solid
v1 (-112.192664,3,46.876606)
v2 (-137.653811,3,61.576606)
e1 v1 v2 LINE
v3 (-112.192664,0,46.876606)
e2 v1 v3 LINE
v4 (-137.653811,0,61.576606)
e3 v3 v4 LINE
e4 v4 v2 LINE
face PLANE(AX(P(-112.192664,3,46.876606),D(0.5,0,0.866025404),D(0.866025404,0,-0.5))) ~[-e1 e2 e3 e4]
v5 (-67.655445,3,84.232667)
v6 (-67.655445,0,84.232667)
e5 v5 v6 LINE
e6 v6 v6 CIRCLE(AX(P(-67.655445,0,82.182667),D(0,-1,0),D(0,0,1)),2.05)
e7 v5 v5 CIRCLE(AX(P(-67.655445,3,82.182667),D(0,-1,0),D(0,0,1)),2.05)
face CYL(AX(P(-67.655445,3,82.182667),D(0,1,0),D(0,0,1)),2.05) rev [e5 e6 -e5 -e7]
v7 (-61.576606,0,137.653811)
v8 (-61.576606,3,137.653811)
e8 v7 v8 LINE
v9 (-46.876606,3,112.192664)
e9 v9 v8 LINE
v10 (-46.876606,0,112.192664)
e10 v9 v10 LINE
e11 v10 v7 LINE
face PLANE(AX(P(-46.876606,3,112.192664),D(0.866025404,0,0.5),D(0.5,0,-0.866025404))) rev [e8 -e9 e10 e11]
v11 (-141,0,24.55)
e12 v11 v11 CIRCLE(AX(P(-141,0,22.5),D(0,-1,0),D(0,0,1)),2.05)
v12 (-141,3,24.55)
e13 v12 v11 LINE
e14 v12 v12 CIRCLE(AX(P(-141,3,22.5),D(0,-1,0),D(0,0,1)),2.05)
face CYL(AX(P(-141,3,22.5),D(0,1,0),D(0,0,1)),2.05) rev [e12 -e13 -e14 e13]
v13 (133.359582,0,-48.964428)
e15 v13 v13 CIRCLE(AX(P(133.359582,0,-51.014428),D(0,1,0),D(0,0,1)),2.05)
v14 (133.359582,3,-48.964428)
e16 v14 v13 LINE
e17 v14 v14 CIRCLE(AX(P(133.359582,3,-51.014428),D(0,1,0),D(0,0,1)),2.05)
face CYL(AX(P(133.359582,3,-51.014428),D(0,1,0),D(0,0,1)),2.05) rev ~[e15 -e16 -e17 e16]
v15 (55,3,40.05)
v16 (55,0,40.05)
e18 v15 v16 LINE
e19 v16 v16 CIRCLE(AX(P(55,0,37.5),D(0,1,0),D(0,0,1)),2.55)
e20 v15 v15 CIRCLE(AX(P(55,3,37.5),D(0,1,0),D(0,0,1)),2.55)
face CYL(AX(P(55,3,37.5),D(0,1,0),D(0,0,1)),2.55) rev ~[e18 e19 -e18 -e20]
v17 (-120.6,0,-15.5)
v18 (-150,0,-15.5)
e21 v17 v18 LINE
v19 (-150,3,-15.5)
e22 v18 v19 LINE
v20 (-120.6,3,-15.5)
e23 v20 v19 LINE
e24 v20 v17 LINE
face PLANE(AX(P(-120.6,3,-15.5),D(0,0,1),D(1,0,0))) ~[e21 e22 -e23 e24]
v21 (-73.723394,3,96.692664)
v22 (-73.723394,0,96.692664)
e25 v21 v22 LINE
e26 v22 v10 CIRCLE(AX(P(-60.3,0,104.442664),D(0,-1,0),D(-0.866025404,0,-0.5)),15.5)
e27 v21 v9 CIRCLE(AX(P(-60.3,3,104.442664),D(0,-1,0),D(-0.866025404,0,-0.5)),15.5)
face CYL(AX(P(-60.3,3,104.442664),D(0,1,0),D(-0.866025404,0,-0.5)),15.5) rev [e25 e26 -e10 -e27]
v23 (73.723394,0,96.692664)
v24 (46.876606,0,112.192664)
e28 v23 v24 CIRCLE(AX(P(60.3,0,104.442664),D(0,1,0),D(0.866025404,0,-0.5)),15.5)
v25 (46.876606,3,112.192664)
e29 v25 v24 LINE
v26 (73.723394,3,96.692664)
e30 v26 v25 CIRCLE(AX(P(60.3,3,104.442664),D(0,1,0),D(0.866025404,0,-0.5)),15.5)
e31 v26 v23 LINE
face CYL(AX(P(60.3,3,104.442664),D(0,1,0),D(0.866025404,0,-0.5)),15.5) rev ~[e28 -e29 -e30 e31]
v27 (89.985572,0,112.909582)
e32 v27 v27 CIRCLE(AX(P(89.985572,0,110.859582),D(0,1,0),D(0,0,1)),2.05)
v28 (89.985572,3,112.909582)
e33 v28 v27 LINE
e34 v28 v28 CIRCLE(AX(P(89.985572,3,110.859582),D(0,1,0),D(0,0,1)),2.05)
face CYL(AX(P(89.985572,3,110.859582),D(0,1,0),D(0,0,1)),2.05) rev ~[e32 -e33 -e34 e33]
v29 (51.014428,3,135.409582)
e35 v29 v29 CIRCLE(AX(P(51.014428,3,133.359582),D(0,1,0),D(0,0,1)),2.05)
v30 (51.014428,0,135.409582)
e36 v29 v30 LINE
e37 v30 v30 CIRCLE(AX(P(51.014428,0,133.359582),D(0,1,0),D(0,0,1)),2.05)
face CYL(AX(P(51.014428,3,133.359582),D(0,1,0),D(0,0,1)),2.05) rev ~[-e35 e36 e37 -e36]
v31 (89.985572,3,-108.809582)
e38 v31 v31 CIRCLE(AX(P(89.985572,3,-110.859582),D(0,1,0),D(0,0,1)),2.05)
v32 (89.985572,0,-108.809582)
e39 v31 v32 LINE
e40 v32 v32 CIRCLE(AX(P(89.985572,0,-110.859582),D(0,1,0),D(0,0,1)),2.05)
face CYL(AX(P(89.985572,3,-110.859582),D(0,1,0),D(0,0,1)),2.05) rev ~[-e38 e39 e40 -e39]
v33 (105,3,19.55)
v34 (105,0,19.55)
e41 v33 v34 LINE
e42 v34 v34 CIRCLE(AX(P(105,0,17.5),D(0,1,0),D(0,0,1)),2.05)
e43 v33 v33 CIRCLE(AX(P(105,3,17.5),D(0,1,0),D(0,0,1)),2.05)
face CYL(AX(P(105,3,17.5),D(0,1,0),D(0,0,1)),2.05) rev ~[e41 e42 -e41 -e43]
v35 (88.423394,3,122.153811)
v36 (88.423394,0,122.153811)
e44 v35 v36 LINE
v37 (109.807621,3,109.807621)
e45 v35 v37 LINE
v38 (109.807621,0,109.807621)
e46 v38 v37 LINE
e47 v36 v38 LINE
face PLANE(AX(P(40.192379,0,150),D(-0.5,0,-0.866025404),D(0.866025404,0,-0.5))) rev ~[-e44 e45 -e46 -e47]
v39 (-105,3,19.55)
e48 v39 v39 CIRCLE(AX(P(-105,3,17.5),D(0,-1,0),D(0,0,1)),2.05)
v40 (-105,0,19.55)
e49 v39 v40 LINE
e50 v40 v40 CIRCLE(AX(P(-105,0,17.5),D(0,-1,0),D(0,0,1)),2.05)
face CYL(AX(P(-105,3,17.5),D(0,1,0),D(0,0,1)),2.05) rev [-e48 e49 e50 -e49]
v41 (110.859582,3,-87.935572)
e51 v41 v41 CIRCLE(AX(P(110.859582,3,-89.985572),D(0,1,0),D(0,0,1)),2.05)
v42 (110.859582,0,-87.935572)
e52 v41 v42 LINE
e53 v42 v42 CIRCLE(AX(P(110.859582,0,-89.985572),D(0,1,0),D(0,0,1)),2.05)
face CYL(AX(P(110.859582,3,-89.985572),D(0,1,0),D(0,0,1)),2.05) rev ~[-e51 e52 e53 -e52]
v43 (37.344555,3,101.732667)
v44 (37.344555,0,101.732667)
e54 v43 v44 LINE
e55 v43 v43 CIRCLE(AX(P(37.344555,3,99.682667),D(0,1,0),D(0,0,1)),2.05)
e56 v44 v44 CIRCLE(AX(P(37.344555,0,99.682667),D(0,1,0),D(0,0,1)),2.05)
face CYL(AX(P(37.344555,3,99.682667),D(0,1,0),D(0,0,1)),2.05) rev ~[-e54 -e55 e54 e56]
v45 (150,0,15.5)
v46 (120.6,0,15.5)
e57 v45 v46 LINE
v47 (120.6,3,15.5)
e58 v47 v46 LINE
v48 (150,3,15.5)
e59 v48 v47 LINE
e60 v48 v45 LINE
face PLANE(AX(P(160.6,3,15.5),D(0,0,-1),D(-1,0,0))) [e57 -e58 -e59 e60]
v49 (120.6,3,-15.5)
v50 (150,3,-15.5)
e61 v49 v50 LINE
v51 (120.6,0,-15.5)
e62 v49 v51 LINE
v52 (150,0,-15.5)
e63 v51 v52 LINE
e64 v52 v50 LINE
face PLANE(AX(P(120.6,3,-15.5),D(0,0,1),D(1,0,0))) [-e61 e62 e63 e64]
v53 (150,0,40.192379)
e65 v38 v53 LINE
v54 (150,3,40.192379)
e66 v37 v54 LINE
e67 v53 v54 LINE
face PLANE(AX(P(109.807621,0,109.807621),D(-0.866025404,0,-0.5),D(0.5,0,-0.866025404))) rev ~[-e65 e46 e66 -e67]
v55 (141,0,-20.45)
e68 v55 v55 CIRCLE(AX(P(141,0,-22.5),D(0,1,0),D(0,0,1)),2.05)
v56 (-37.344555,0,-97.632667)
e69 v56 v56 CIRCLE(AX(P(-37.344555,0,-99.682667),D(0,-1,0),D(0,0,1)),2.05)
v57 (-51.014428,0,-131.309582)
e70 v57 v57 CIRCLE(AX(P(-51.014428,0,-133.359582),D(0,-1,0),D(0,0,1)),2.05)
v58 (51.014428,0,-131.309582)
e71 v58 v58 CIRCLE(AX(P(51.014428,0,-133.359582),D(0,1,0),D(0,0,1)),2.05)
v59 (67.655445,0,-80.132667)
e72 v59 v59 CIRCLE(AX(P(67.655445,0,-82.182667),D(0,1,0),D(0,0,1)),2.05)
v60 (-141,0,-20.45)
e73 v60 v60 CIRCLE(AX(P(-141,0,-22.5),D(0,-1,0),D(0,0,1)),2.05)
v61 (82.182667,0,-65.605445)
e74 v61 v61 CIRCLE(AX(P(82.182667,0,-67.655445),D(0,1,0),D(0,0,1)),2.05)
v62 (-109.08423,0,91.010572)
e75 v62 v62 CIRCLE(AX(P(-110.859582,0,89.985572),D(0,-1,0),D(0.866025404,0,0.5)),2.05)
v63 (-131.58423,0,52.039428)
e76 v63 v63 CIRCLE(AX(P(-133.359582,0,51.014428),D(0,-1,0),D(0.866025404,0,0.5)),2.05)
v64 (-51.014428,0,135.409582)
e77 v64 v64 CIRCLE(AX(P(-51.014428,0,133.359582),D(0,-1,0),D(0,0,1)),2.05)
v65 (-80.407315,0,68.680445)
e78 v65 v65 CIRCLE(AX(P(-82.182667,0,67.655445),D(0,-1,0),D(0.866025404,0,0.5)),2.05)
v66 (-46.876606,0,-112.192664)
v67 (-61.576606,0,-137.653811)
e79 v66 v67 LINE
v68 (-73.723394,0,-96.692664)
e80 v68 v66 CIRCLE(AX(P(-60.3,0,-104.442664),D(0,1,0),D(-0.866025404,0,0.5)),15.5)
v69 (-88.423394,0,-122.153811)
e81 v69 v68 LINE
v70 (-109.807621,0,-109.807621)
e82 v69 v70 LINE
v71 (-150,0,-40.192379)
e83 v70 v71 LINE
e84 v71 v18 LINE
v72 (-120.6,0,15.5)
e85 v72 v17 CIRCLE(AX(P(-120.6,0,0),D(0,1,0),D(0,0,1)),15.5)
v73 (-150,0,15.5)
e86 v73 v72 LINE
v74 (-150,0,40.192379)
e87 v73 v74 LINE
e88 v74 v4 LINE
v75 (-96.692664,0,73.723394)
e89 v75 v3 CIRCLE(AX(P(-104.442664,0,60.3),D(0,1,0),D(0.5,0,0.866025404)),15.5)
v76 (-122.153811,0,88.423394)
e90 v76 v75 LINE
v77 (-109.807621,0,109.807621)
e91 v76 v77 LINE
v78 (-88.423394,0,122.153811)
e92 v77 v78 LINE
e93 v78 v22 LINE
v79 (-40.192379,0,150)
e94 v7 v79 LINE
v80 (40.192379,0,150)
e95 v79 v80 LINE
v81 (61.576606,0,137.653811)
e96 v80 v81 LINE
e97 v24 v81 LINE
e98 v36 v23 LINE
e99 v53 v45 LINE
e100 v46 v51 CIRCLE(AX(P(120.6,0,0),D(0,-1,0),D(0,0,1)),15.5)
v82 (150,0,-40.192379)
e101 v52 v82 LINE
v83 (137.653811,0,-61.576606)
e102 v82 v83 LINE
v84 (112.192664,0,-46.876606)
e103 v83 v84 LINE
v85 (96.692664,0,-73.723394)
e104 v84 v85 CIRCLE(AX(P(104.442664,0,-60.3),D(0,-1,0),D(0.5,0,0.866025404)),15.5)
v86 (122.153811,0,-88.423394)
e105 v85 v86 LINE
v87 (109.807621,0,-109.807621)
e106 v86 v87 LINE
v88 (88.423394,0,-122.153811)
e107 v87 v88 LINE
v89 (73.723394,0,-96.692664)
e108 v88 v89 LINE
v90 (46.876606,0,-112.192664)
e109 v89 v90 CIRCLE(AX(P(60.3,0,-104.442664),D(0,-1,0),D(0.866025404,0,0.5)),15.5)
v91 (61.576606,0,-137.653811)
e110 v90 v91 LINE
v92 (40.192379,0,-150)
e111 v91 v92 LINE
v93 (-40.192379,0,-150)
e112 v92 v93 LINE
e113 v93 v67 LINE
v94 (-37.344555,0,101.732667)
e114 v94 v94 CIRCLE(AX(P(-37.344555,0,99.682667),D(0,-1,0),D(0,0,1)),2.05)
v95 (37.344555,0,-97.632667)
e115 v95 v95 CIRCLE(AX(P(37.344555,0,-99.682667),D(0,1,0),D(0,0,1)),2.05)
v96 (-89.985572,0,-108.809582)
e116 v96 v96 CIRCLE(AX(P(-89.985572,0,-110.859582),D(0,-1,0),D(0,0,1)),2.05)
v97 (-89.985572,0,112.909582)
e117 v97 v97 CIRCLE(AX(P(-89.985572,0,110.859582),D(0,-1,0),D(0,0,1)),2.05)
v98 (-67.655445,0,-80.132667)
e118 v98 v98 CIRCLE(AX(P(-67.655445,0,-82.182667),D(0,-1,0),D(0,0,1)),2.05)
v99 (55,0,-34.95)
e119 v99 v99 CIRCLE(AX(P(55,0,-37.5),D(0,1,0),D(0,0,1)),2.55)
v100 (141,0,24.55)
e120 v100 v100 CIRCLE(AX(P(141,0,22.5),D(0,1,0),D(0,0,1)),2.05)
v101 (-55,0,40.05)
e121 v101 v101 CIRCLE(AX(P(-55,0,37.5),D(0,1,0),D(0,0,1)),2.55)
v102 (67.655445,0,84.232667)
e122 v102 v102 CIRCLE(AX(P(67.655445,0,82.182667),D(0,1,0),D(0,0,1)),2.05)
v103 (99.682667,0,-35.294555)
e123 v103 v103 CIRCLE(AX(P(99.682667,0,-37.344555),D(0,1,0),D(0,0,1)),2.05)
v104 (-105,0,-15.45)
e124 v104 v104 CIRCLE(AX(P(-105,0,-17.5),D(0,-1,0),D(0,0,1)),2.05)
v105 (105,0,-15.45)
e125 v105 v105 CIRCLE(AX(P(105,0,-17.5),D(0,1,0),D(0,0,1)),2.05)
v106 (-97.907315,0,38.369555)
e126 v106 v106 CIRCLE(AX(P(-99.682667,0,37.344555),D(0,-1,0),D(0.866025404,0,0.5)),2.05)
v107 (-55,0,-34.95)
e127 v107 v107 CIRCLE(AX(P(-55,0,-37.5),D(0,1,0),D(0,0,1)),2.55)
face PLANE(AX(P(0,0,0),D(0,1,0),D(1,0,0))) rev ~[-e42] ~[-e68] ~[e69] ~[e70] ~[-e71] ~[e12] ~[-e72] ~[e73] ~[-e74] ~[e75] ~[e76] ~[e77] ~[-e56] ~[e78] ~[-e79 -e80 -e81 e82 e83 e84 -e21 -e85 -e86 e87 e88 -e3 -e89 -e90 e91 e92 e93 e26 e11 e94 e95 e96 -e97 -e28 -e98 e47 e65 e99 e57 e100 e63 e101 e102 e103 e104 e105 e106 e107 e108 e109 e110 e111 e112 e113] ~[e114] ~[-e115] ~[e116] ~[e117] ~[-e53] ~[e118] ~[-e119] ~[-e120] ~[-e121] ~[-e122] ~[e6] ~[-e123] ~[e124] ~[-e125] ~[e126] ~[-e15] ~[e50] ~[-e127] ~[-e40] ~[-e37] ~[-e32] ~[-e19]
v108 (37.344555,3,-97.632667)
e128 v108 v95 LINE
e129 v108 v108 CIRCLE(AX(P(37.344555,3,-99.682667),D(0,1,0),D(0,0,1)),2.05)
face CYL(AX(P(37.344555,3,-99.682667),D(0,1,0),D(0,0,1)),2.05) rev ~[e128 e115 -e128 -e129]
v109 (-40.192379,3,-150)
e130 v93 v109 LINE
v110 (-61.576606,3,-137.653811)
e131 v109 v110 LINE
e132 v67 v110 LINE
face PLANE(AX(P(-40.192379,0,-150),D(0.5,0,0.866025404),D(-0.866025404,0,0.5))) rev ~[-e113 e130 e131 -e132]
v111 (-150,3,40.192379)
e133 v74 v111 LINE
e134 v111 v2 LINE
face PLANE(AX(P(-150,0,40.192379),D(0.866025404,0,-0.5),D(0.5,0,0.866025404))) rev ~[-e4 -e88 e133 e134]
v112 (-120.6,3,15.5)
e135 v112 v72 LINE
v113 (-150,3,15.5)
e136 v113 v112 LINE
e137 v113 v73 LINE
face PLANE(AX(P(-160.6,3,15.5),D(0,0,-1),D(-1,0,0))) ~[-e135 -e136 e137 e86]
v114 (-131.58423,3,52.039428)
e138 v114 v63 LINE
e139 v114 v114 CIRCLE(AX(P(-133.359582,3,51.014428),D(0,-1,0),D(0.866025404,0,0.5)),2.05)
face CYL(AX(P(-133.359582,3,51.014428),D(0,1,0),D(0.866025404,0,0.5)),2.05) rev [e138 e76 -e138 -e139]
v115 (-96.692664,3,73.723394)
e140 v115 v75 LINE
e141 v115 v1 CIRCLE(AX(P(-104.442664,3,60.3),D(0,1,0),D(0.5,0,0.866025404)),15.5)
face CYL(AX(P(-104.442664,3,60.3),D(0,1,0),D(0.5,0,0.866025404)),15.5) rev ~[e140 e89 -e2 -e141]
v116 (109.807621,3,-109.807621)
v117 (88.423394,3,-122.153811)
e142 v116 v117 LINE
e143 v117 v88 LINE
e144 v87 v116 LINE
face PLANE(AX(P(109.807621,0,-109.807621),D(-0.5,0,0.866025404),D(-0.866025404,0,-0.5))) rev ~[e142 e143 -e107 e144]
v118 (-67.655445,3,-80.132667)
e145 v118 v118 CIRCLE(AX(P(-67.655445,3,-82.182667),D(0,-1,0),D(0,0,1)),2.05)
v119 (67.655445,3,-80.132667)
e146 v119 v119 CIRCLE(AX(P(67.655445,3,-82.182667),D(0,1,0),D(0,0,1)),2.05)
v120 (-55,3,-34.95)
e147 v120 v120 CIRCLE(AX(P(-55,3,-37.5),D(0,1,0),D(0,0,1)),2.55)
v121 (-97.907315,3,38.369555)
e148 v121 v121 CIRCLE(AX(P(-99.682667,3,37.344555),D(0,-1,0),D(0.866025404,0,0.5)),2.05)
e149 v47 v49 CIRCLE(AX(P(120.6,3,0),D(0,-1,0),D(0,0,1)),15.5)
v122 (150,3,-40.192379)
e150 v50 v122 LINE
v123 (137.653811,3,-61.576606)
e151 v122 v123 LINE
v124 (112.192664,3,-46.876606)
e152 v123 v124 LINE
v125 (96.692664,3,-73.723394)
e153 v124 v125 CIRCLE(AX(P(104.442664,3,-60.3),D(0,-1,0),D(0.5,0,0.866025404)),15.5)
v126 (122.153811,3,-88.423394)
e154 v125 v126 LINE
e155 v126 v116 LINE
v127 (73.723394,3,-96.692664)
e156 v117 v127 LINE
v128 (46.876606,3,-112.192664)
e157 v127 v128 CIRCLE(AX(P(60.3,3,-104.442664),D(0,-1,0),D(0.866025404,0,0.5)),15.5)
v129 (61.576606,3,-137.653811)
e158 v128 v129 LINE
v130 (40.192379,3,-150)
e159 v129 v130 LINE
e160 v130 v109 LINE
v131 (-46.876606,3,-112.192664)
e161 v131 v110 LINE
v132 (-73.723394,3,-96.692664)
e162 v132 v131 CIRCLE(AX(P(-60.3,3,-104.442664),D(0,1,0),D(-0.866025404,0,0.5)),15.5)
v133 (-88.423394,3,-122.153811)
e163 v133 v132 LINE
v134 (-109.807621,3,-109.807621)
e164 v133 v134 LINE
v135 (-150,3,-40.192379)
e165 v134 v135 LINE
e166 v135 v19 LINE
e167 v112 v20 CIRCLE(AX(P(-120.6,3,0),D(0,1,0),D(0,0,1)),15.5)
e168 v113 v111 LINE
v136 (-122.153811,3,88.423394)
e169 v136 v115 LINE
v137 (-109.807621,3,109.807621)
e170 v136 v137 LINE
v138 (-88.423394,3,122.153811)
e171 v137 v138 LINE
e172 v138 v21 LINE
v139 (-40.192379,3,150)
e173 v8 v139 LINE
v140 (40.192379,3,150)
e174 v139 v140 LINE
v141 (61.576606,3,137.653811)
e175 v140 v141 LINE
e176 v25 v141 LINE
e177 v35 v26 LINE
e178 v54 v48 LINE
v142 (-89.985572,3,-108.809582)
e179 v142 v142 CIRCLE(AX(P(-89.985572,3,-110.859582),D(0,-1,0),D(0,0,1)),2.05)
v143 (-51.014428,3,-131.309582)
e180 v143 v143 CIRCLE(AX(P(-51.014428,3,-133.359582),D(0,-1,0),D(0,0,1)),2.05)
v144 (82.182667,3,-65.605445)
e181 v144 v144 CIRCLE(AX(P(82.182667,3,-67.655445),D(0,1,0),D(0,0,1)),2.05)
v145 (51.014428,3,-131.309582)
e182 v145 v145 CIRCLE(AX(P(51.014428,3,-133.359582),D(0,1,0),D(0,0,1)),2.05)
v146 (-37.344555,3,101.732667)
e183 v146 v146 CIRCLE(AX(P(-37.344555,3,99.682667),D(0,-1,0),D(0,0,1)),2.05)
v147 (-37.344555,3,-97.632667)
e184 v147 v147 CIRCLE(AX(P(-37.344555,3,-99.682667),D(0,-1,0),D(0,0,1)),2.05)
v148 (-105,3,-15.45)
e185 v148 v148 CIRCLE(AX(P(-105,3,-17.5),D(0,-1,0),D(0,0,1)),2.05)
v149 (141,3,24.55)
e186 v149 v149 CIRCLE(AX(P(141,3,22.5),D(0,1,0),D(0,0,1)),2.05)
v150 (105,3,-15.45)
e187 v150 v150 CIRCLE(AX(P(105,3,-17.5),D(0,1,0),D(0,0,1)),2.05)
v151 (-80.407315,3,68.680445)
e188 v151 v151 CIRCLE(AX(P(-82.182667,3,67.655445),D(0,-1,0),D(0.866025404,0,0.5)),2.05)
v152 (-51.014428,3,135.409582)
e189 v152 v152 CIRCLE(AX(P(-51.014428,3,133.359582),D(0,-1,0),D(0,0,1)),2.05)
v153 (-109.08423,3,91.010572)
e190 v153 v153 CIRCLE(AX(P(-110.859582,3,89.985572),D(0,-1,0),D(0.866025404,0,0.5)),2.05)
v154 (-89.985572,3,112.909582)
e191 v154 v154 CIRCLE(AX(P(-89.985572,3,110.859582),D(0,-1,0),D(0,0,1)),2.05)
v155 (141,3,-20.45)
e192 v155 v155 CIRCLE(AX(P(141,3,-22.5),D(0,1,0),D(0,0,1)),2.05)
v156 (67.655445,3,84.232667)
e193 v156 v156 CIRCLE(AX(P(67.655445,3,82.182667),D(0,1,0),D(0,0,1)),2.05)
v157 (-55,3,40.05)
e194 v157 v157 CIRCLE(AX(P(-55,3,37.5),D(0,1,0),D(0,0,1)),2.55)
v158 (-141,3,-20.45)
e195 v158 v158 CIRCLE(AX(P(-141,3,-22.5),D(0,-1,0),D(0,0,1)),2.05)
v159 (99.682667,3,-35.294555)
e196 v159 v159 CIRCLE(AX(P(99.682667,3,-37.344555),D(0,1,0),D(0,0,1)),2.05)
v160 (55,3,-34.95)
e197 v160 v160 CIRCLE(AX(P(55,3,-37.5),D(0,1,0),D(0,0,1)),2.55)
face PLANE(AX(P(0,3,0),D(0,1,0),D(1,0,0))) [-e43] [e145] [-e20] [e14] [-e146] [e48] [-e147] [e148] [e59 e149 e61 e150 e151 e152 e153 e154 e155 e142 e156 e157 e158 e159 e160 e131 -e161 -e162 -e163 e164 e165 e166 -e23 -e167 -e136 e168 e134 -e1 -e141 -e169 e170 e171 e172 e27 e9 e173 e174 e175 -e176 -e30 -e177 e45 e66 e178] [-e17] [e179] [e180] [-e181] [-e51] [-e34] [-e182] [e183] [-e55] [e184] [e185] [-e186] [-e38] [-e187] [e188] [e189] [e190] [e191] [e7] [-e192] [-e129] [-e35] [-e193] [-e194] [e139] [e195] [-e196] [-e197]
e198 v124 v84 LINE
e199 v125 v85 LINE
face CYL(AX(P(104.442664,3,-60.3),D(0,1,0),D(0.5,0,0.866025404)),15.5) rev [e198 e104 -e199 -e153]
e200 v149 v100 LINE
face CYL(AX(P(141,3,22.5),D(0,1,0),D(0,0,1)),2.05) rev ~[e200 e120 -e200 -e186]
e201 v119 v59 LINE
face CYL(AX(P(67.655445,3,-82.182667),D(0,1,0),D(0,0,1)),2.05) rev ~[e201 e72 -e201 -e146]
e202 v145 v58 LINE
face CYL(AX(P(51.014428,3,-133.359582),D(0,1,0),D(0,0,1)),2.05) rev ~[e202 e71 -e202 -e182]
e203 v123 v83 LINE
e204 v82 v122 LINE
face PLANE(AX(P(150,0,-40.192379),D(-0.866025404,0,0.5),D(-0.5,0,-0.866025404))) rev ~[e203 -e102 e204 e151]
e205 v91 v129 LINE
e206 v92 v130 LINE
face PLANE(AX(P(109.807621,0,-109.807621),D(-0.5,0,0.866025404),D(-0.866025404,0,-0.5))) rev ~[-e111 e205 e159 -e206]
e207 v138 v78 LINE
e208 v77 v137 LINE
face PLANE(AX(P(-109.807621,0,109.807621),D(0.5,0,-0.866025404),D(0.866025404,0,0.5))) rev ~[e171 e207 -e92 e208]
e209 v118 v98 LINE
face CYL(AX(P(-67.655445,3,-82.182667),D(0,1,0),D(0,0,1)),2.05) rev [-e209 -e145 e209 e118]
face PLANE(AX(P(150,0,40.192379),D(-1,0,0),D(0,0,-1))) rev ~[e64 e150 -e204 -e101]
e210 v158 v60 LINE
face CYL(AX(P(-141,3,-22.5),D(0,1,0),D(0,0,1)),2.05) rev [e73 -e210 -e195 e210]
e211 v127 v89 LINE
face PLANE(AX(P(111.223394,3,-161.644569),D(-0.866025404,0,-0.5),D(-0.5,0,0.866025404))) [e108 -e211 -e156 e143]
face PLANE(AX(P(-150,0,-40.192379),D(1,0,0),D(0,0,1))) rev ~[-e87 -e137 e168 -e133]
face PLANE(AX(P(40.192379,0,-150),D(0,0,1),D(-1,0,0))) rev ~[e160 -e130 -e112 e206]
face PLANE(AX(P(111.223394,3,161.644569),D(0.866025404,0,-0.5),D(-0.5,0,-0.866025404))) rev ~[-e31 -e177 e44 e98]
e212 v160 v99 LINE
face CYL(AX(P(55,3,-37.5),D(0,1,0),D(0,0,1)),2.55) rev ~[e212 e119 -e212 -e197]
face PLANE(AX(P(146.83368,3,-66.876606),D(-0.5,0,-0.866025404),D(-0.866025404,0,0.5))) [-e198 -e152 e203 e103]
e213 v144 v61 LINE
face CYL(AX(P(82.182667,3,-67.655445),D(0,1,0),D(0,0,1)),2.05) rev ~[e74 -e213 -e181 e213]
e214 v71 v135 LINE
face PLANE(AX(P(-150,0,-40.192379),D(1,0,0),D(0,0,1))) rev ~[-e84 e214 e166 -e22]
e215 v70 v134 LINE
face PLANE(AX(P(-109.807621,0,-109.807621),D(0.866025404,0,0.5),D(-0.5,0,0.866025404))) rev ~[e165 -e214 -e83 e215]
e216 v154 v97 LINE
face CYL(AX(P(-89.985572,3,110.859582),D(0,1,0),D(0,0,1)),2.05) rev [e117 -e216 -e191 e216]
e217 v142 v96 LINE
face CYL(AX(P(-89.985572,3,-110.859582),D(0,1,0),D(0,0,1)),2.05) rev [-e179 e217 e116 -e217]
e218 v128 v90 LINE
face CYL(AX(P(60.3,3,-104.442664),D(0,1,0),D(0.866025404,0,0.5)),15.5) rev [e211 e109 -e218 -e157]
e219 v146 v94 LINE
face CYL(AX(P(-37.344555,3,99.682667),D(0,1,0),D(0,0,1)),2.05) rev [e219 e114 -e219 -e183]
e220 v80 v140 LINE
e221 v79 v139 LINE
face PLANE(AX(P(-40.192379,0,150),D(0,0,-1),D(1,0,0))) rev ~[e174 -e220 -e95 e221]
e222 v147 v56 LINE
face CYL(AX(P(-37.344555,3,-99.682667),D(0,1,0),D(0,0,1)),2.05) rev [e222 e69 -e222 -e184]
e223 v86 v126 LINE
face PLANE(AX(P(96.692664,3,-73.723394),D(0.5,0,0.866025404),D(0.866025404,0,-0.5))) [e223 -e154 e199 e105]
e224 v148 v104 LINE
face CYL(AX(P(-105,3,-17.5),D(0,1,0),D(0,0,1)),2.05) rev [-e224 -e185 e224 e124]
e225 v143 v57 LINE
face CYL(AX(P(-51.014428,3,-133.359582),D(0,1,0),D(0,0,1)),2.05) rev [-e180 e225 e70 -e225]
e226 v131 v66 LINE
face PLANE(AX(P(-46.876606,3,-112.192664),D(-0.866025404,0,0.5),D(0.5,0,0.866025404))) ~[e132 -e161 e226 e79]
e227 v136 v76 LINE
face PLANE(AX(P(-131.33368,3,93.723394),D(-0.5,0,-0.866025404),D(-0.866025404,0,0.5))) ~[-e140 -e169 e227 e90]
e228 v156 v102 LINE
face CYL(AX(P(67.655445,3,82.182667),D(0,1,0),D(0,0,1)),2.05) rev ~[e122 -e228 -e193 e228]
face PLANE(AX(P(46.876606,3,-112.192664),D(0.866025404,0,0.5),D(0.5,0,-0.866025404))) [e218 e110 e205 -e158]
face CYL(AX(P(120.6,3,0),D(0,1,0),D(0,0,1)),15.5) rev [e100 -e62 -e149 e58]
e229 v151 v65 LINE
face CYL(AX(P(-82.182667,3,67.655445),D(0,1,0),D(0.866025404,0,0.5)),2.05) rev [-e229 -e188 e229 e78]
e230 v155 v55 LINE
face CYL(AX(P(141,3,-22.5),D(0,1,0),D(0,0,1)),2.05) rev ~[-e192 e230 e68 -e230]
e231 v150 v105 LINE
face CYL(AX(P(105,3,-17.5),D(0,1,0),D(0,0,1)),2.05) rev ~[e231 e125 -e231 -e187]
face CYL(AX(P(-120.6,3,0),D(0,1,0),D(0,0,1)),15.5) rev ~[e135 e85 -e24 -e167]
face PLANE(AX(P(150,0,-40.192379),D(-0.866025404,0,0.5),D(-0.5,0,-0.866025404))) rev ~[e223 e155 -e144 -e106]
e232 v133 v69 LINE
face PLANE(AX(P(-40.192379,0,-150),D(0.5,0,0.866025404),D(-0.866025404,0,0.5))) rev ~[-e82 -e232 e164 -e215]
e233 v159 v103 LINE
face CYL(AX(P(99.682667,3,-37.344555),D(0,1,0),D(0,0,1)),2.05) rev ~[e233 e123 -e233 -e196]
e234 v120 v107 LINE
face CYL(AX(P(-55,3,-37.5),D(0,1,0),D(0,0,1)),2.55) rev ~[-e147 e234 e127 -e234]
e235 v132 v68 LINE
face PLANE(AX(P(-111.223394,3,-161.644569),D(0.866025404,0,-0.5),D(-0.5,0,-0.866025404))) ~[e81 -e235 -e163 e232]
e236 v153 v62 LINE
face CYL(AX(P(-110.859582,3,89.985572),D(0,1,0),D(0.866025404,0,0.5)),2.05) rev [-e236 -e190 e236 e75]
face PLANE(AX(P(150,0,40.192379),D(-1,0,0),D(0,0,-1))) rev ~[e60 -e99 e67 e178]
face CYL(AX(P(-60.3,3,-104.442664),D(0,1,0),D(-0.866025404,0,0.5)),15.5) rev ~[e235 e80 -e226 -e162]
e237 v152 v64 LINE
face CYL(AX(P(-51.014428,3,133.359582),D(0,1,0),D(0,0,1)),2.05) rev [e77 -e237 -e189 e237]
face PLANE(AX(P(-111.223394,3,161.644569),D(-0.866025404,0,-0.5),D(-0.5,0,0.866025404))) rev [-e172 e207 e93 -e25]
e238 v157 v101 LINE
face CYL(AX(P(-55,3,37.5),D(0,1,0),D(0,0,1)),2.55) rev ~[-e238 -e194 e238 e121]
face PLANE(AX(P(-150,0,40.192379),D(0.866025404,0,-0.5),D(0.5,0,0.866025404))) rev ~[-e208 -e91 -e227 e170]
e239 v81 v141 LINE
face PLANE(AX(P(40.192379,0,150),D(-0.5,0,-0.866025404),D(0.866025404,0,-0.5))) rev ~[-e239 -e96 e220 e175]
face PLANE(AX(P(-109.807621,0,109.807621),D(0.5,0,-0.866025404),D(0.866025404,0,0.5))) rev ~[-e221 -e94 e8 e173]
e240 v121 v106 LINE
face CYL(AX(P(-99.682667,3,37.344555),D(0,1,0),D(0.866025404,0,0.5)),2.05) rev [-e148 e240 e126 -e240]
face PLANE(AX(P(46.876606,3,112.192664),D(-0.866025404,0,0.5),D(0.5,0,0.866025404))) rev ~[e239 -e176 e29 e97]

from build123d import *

# Parameters (mm, degrees)
BOSS_EXTRUDE1_DEPTH = 3
SKETCH2_R           = 2.05
HEXCUT1_DEPTH       = 3
SKETCH6_R           = 2.05
QUADCUT1_DEPTH      = 3
CUT_EXTRUDE3_DEPTH  = 3
CUT_EXTRUDE4_DEPTH  = 3
SKETCH10_R          = 2.55
CUT_EXTRUDE6_DEPTH  = 3


with BuildPart() as part:
    # Sketch1 → Boss-Extrude1 (new body)
    with BuildSketch(Plane(origin=(0, 0, 0), x_dir=(1, 0, 0), z_dir=(0, 1, 0))):
        Polygon((150, -40.192378865), (150, 40.192378865), (109.807621135, 109.807621135), (40.192378865, 150), (-40.192378865, 150), (-109.807621135, 109.807621135), (-150, 40.192378865), (-150, -40.192378865), (-109.807621135, -109.807621135), (-40.192378865, -150), (40.192378865, -150), (109.807621135, -109.807621135), align=None)
    extrude(amount=BOSS_EXTRUDE1_DEPTH)

    # Sketch2 → HexCut1 (cut)
    with BuildSketch(Plane(origin=(0, 3, 0), x_dir=(1, 0, 0), z_dir=(0, 1, 0))):
        with Locations(Location((51.014428415, 133.359581934, 0), (0, 0, 270))):
            Circle(SKETCH2_R)
        with Locations(Location((37.344555434, 99.682667397, 0), (0, 0, 270))):
            Circle(SKETCH2_R)
        with Locations(Location((37.344555434, -99.682667397, 0), (0, 0, 270))):
            Circle(SKETCH2_R)
        with Locations(Location((51.014428415, -133.359581934, 0), (0, 0, 270))):
            Circle(SKETCH2_R)
        with Locations(Location((105, 17.5, 0), (0, 0, 270))):
            Circle(SKETCH2_R)
        with Locations(Location((141, 22.5, 0), (0, 0, 270))):
            Circle(SKETCH2_R)
        with Locations(Location((105, -17.5, 0), (0, 0, 270))):
            Circle(SKETCH2_R)
        with Locations(Location((141, -22.5, 0), (0, 0, 270))):
            Circle(SKETCH2_R)
        with Locations(Location((89.985571585, -110.859581934, 0), (0, 0, 270))):
            Circle(SKETCH2_R)
        with Locations(Location((67.655444566, -82.182667397, 0), (0, 0, 270))):
            Circle(SKETCH2_R)
        with Locations(Location((89.985571585, 110.859581934, 0), (0, 0, 270))):
            Circle(SKETCH2_R)
        with Locations(Location((67.655444566, 82.182667397, 0), (0, 0, 270))):
            Circle(SKETCH2_R)
    hexcut1 = extrude(amount=-HEXCUT1_DEPTH, mode=Mode.SUBTRACT)

    # HexCut2: HexCut1 across plane
    add(hexcut1.mirror(Plane(origin=(0, 0, 0), x_dir=(0, 0, 1), z_dir=(1, 0, 0))), mode=Mode.SUBTRACT)

    # Sketch6 → QuadCut1 (cut)
    with BuildSketch(Plane(origin=(0, 3, 0), x_dir=(1, 0, 0), z_dir=(0, 1, 0))):
        with Locations(Location((99.682667397, 37.344555434, 0), (0, 0, 270))):
            Circle(SKETCH6_R)
        with Locations(Location((133.359581934, 51.014428415, 0), (0, 0, 270))):
            Circle(SKETCH6_R)
        with Locations(Location((110.859581934, 89.985571585, 0), (0, 0, 270))):
            Circle(SKETCH6_R)
        with Locations(Location((82.182667397, 67.655444566, 0), (0, 0, 270))):
            Circle(SKETCH6_R)
    quadcut1 = extrude(amount=-QUADCUT1_DEPTH, mode=Mode.SUBTRACT)

    # Mirror1: QuadCut1 across plane
    add(quadcut1.mirror(Plane(origin=(0, 0, 0), x_dir=(0.5000000000000011, 0, 0.8660254037844378), z_dir=(0.8660254037844379, 0, -0.5000000000000012))), mode=Mode.SUBTRACT)

    # Sketch7 → Cut-Extrude3 (cut)
    with BuildSketch(Plane(origin=(0, 3, 0), x_dir=(1, 0, 0), z_dir=(0, 1, 0))):
        with BuildLine():
            Line((46.876606241, 112.192663696), (84.376606241, 177.14456898))
            Line((84.376606241, 177.14456898), (111.223393759, 161.64456898))
            Line((111.223393759, 161.64456898), (73.723393759, 96.692663696))
            ThreePointArc((73.723393759, 96.692663696), (52.55, 91.019269938), (46.876606241, 112.192663696))
        make_face()
        with BuildLine():
            Line((46.876606241, -112.192663696), (84.376606241, -177.14456898))
            Line((84.376606241, -177.14456898), (111.223393759, -161.64456898))
            Line((111.223393759, -161.64456898), (73.723393759, -96.692663696))
            ThreePointArc((73.723393759, -96.692663696), (52.55, -91.019269938), (46.876606241, -112.192663696))
        make_face()
        with BuildLine():
            Line((120.6, 15.5), (160.6, 15.5))
            Line((160.6, 15.5), (160.6, -15.5))
            Line((160.6, -15.5), (120.6, -15.5))
            ThreePointArc((120.6, -15.5), (105.1, 0), (120.6, 15.5))
        make_face()
    cut_extrude3 = extrude(amount=-CUT_EXTRUDE3_DEPTH, mode=Mode.SUBTRACT)

    # Mirror2: Cut-Extrude3 across plane
    add(cut_extrude3.mirror(Plane(origin=(0, 0, 0), x_dir=(0, 0, 1), z_dir=(1, 0, 0))), mode=Mode.SUBTRACT)

    # Sketch8 → Cut-Extrude4 (cut)
    with BuildSketch(Plane(origin=(0, 3, 0), x_dir=(1, 0, 0), z_dir=(0, 1, 0))):
        with BuildLine():
            Line((96.692663696, 73.723393759), (131.333679848, 93.723393759))
            Line((131.333679848, 93.723393759), (146.833679848, 66.876606241))
            Line((146.833679848, 66.876606241), (112.192663696, 46.876606241))
            ThreePointArc((112.192663696, 46.876606241), (91.019269938, 52.55), (96.692663696, 73.723393759))
        make_face()
    cut_extrude4 = extrude(amount=-CUT_EXTRUDE4_DEPTH, mode=Mode.SUBTRACT)

    # Mirror3: Cut-Extrude4 across plane
    add(cut_extrude4.mirror(Plane(origin=(0, 0, 0), x_dir=(0.5000000000000011, 0, 0.8660254037844378), z_dir=(0.8660254037844379, 0, -0.5000000000000012))), mode=Mode.SUBTRACT)

    # Sketch10 → Cut-Extrude6 (cut)
    with BuildSketch(Plane(origin=(0, 3, 0), x_dir=(1, 0, 0), z_dir=(0, 1, 0))):
        with Locations(Location((55, 37.5, 0), (0, 0, 270))):
            Circle(SKETCH10_R)
        with Locations(Location((55, -37.5, 0), (0, 0, 270))):
            Circle(SKETCH10_R)
        with Locations(Location((-55, 37.5, 0), (0, 0, 270))):
            Circle(SKETCH10_R)
        with Locations(Location((-55, -37.5, 0), (0, 0, 270))):
            Circle(SKETCH10_R)
    extrude(amount=-CUT_EXTRUDE6_DEPTH, mode=Mode.SUBTRACT)


solid = part.part
